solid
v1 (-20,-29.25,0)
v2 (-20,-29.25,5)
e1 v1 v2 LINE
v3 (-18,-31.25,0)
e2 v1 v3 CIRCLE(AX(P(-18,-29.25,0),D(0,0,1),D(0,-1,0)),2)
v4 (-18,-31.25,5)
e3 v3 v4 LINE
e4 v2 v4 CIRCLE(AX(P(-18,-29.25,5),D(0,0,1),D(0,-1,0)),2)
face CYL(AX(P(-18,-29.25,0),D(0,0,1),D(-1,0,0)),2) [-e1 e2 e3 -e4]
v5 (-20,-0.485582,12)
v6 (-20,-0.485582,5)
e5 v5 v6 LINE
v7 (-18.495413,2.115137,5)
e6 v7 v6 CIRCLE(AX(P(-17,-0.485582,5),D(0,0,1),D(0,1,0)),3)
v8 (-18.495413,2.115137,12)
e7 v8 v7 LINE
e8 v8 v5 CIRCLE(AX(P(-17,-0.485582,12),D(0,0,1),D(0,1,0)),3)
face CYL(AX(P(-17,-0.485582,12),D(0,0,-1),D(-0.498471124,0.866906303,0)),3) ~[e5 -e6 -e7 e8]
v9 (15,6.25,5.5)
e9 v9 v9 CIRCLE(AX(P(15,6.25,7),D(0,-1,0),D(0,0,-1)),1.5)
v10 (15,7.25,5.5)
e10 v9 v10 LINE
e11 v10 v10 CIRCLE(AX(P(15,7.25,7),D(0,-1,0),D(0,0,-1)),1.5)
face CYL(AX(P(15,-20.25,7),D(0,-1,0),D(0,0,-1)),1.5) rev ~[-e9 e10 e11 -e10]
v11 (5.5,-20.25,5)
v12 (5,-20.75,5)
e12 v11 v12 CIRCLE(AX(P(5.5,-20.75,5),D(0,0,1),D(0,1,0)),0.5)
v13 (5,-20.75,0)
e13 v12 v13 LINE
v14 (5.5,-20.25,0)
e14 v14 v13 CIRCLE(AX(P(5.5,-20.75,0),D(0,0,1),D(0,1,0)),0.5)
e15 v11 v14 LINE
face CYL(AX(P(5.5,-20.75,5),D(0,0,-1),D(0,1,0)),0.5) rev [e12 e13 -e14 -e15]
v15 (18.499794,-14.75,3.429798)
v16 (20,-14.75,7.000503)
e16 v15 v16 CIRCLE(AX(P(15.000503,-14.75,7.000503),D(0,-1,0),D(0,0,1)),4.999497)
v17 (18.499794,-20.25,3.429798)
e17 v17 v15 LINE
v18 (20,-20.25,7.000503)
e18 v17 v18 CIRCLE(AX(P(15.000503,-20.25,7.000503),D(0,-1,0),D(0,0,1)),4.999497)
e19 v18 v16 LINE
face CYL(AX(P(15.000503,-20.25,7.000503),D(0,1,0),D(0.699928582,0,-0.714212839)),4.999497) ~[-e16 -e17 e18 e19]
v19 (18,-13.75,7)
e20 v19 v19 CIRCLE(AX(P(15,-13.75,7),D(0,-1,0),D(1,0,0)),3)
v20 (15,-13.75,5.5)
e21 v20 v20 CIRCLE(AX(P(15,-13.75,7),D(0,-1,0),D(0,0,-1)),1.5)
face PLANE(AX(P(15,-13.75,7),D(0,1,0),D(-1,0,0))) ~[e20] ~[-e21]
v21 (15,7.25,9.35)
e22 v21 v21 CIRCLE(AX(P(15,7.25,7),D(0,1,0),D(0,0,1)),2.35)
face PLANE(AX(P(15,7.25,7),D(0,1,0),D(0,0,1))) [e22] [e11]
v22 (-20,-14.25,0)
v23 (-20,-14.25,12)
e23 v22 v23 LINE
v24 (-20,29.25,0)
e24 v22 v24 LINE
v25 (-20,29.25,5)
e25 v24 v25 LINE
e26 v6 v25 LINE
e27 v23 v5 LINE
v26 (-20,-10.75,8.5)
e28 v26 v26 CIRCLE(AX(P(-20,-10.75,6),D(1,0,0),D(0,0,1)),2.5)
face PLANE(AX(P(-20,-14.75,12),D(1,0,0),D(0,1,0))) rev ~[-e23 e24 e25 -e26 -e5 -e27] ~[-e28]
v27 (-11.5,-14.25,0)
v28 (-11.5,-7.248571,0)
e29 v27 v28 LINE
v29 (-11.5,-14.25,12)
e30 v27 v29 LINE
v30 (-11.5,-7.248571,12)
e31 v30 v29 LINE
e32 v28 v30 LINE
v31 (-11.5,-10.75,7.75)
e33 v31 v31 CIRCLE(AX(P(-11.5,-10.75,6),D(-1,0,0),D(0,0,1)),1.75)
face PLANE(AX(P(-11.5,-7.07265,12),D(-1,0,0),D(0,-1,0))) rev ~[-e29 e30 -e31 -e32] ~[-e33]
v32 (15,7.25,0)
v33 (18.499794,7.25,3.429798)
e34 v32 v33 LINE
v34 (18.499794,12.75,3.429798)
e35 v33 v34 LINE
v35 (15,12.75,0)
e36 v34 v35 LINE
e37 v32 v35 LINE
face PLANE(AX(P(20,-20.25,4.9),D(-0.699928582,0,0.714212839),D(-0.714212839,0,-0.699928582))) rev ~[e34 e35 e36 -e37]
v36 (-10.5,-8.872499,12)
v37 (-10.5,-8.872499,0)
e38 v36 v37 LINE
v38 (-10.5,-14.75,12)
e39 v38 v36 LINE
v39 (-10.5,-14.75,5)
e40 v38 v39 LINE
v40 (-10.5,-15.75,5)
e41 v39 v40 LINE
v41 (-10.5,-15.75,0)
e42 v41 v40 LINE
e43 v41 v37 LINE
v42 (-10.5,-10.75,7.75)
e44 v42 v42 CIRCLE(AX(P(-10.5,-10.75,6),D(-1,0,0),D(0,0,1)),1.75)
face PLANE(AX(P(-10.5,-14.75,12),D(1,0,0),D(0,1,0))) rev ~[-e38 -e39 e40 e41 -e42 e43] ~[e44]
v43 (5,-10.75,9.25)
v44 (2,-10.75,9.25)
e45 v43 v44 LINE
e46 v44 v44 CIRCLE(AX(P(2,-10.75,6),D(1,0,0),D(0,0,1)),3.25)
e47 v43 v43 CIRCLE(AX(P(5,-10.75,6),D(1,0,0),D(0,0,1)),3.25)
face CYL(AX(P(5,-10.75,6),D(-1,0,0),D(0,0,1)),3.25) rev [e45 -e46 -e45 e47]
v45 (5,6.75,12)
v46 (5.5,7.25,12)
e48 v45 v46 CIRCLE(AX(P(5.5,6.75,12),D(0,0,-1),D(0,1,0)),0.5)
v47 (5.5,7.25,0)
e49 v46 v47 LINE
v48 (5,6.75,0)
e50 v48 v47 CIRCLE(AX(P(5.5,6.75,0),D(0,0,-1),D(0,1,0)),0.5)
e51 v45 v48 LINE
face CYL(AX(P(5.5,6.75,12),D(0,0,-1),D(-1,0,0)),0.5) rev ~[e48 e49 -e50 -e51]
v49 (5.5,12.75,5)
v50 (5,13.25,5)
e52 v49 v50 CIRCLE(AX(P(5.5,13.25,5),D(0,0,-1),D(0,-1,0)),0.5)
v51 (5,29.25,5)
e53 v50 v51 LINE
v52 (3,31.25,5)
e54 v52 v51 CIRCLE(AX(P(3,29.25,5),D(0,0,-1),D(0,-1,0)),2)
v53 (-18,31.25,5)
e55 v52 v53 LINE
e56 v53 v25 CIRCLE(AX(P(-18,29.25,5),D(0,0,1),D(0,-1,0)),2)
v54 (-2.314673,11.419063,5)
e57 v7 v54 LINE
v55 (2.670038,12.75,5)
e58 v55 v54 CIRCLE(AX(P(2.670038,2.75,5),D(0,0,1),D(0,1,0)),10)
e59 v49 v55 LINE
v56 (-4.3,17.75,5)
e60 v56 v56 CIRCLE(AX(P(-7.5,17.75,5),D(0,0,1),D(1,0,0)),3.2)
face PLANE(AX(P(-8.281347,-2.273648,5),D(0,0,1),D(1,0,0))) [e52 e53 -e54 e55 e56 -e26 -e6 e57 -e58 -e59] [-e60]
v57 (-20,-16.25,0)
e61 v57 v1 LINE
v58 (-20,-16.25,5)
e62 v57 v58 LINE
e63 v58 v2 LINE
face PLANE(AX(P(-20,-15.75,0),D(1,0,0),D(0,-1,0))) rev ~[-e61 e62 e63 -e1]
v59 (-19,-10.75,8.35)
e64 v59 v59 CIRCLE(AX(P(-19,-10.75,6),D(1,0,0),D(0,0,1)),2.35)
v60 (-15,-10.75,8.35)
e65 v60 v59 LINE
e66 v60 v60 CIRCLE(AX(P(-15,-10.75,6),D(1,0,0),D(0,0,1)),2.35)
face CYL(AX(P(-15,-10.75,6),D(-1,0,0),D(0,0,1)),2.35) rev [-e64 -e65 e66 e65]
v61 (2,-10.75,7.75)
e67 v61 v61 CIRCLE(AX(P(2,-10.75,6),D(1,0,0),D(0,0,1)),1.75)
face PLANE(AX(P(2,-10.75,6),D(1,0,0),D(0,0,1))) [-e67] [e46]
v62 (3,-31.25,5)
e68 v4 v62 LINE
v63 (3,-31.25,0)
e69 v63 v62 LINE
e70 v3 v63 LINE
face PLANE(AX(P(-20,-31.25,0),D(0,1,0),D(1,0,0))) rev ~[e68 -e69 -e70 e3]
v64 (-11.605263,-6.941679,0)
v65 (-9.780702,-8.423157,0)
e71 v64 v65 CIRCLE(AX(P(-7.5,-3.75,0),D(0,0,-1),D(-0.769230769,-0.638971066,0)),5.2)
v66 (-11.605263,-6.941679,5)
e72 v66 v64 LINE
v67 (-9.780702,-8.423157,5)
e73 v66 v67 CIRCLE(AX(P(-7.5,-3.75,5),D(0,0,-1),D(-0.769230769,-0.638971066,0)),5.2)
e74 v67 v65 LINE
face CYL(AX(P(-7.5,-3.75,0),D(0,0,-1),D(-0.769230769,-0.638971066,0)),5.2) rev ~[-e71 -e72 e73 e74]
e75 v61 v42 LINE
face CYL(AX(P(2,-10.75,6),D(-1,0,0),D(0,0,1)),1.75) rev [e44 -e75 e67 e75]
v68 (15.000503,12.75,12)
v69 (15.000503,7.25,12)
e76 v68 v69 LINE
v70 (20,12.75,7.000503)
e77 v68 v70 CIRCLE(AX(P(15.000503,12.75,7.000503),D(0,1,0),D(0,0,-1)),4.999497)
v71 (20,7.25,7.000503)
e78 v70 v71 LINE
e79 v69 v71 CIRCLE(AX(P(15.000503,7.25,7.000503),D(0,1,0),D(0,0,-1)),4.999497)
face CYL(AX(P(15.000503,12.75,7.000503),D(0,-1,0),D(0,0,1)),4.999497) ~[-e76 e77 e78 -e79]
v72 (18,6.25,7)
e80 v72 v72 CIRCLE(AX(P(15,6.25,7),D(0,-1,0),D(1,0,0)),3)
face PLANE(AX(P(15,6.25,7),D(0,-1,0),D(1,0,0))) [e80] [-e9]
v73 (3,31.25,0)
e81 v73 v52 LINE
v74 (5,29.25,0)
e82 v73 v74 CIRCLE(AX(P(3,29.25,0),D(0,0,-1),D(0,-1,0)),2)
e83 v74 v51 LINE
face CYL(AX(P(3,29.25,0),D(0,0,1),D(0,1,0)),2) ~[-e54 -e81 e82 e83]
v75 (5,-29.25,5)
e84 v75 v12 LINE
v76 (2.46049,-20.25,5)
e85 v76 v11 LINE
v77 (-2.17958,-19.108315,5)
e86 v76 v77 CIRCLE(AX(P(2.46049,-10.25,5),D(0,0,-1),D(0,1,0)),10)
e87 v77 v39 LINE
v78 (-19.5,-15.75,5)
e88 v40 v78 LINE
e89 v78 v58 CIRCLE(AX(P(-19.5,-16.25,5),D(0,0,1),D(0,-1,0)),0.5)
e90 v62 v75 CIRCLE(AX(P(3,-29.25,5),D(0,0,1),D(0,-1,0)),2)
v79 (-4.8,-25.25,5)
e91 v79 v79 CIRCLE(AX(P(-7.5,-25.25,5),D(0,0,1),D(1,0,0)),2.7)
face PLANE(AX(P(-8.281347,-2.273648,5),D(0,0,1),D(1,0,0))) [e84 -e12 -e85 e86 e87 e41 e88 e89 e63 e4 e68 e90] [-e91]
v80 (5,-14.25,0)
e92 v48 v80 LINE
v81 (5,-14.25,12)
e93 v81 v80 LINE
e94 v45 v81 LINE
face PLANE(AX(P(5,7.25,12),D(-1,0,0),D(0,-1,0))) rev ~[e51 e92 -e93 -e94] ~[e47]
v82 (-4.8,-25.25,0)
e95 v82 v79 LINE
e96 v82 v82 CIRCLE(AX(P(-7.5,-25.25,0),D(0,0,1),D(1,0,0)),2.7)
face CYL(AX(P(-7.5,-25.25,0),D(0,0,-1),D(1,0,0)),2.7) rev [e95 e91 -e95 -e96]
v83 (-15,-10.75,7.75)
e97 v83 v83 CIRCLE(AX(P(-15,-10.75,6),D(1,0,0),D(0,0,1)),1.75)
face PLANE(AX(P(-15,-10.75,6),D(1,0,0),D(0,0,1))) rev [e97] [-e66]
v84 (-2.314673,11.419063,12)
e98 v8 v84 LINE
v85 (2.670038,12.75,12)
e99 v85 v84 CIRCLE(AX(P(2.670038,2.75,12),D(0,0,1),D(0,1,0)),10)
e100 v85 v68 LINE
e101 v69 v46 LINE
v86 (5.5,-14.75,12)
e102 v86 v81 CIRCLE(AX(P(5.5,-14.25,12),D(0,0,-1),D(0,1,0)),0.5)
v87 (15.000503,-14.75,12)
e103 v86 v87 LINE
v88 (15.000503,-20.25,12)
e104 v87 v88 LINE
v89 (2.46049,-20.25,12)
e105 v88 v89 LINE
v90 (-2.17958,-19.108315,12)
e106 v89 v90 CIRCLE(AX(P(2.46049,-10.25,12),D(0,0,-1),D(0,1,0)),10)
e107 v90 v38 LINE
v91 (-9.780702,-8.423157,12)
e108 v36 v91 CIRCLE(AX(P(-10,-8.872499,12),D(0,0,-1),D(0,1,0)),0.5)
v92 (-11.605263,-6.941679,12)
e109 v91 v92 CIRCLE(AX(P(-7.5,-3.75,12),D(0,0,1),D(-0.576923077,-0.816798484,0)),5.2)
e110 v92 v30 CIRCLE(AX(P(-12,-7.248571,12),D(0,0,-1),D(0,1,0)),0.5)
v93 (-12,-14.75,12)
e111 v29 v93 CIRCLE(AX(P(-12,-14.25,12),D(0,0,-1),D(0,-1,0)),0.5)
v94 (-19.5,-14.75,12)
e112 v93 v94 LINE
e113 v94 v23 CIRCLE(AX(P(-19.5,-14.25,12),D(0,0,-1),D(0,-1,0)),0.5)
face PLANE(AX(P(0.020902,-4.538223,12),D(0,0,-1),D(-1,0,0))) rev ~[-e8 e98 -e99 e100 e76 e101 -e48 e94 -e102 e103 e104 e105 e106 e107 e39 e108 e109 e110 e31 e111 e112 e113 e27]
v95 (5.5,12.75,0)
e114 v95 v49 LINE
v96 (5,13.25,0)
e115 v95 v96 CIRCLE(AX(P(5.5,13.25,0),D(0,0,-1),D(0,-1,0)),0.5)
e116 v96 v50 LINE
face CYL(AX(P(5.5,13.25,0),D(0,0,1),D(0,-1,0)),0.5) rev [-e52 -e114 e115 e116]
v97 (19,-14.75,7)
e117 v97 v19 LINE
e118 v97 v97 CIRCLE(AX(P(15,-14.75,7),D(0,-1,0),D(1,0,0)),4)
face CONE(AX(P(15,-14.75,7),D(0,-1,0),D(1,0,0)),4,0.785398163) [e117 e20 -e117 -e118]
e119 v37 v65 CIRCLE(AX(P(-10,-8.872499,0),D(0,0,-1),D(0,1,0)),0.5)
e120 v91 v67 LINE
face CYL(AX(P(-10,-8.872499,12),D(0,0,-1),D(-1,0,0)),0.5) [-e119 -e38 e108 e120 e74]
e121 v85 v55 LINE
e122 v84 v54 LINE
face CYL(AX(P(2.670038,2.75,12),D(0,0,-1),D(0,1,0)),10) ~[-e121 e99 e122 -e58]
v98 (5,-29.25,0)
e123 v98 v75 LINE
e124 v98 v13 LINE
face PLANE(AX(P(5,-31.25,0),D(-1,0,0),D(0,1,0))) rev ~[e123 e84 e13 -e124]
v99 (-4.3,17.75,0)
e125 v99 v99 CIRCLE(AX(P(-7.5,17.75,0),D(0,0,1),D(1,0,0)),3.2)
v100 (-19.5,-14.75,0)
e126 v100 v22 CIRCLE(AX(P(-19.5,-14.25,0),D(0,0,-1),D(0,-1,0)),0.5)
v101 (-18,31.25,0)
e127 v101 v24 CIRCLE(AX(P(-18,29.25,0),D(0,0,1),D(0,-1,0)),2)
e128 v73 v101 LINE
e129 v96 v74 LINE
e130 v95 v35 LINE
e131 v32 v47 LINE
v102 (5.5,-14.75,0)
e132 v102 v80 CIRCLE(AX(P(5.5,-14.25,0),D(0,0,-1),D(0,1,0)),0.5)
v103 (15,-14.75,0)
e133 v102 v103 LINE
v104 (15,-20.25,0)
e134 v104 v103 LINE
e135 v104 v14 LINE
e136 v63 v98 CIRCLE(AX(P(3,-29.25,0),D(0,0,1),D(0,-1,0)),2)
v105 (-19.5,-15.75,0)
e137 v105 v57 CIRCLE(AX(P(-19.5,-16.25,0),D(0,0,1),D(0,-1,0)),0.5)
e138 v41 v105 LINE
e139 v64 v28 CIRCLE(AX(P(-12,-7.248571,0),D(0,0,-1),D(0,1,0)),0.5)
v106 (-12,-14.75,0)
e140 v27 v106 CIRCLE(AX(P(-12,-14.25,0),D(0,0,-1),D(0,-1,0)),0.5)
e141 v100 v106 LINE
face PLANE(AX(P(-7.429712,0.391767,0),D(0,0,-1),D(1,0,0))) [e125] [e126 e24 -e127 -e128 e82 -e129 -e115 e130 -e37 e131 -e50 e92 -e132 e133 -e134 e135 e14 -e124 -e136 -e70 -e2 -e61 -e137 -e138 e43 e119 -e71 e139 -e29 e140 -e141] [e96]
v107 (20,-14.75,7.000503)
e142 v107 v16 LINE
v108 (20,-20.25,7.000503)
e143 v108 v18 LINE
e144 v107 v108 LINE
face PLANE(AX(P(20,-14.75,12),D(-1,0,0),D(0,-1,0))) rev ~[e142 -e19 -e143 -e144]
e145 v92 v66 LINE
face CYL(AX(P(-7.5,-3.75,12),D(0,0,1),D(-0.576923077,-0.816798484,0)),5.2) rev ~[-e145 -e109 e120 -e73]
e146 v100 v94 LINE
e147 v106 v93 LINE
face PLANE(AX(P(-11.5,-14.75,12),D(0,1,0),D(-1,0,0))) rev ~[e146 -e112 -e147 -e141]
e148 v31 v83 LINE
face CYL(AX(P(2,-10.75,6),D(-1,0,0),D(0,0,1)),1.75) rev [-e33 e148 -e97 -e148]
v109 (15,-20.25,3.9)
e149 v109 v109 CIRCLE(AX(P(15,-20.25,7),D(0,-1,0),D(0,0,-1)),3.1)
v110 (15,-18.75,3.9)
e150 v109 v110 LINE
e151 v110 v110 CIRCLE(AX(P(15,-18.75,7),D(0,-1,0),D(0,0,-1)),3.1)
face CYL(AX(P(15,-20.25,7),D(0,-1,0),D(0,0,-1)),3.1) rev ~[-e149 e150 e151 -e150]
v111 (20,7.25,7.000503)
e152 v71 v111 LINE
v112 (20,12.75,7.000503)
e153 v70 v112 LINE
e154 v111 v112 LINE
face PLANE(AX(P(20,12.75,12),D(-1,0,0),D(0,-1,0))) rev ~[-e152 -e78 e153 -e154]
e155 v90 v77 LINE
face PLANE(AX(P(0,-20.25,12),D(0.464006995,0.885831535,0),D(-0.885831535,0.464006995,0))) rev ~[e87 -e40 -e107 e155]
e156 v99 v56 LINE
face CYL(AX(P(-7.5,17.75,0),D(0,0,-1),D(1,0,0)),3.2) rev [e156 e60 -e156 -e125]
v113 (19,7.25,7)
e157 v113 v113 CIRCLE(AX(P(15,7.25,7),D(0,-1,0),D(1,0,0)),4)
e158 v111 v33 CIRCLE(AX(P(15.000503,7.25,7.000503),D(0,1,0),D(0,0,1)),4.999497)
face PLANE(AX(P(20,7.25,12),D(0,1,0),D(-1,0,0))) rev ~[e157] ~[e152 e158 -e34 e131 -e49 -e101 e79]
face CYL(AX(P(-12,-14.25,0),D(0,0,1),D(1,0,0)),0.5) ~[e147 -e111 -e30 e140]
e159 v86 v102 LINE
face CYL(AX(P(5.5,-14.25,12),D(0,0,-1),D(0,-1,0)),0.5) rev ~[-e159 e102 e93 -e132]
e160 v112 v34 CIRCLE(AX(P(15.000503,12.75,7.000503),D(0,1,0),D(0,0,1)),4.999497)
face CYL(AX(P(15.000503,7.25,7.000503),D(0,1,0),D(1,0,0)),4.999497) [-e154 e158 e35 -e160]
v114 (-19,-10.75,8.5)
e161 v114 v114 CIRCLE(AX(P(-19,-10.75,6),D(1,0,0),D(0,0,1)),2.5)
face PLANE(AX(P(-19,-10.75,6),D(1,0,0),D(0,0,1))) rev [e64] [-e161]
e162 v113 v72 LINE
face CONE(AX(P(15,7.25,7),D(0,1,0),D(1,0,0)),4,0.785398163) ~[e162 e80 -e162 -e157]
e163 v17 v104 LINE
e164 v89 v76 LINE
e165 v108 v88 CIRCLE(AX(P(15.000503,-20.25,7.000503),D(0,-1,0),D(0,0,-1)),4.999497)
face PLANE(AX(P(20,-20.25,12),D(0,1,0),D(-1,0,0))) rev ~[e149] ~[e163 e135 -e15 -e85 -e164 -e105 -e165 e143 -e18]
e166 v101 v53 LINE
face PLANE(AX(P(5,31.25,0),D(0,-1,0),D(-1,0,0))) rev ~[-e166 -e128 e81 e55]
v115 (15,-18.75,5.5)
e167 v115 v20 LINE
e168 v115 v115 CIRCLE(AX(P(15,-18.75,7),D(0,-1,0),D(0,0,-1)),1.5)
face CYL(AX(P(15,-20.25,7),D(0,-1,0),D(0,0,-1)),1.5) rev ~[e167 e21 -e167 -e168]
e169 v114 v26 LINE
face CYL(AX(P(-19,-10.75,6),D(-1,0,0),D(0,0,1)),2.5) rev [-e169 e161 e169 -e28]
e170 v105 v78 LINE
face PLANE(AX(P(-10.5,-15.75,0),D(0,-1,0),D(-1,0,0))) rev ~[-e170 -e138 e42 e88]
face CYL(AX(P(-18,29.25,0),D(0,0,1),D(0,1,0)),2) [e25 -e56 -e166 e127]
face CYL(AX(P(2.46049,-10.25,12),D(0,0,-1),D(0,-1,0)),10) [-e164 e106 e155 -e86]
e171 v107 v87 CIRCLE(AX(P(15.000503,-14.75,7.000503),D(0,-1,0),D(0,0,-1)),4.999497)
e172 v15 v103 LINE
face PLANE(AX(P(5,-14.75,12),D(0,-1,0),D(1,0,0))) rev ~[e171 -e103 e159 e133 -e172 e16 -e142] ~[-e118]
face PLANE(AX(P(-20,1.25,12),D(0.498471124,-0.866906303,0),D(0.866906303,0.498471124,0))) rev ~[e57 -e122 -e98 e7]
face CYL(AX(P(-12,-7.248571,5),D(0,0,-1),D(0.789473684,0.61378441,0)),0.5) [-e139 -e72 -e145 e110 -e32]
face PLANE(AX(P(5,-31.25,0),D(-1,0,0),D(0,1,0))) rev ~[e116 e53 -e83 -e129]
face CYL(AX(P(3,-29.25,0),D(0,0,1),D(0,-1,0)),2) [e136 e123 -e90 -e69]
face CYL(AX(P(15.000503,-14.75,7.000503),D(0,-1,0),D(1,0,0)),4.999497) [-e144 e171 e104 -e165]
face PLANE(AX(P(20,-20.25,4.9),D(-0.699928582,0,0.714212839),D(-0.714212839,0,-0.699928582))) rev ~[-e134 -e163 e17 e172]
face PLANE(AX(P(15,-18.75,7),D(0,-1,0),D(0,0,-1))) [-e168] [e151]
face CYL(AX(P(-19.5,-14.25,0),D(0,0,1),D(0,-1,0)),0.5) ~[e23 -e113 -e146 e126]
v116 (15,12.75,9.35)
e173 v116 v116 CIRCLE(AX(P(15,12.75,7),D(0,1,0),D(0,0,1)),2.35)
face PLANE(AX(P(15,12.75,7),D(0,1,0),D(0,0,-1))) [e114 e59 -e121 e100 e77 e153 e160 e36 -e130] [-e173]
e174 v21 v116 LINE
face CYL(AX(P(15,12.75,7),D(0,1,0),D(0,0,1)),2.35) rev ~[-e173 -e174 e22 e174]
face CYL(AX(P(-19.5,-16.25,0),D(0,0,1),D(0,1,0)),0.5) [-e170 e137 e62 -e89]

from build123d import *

# Parameters (mm, degrees)
SKETCH1_R                 = 2.7
SKETCH1_R_2               = 3.2
BOSS_EXTRUDE1_DEPTH       = 5
BOSS_EXTRUDE2_REACH       = 40.994
SKETCH3_R                 = 1.5
CUT_EXTRUDE1_DEPTH        = 57.535387148
FILLET1_R                 = 4.999497
FILLET2_R                 = 4.999497
SKETCH4_R                 = 3
BOSS_EXTRUDE3_DEPTH       = 1
DRAFT1_ANGLE              = 45
DRAFT1_OF_MIRROR1_2_ANGLE = 45
SKETCH5_R                 = 1.5
CUT_EXTRUDE2_DEPTH        = 57.535387148
SKETCH6_R                 = 3.1
CUT_EXTRUDE3_DEPTH        = 1.5
FILLET3_R                 = 10
FILLET5_R                 = 0.5
FILLET6_R                 = 2
FILLET7_R                 = 3
SKETCH8_R                 = 3.1
SKETCH8_R_2               = 2.35
BOSS_EXTRUDE4_DEPTH       = 1.5
CUT_EXTRUDE4_START        = -4
SKETCH9_R                 = 2.35
SKETCH9_R_2               = 1.5
CUT_EXTRUDE4_DEPTH        = 4


with BuildPart() as part:
    # Sketch1 → Boss-Extrude1 (new body)
    with BuildSketch(Plane.XY):
        with BuildLine():
            Line((5, -31.25), (5, 31.25))
            Line((5, 31.25), (-20, 31.25))
            Line((-20, 31.25), (-20, -14.75))
            Line((-20, -14.75), (-11.5, -14.75))
            Line((-11.5, -14.75), (-11.5, -7.072649545))
            ThreePointArc((-11.5, -7.072649545), (-3.96959369, 0.06788309), (-10.5, -7.997352116))
            Line((-10.5, -7.997352116), (-10.5, -15.75))
            Line((-10.5, -15.75), (-20, -15.75))
            Line((-20, -15.75), (-20, -31.25))
            Line((-20, -31.25), (5, -31.25))
        make_face()
        with Locations((-7.5, -25.25)):
            Circle(SKETCH1_R, mode=Mode.SUBTRACT)
        with Locations((-7.5, 17.75)):
            Circle(SKETCH1_R_2, mode=Mode.SUBTRACT)
    extrude(amount=BOSS_EXTRUDE1_DEPTH)

    # Boss-Extrude2: up to this face of the body (flat: up to its plane)
    boss_extrude2_end = Plane(part.part.faces().sort_by_distance((4.326854399, 0, 0))[0])
    # Sketch2 → Boss-Extrude2 (add, up to the picked face)
    with BuildSketch(Plane.XY.offset(12), mode=Mode.PRIVATE) as boss_extrude2_sk1:
        with BuildLine():
            Line((0, 12.75), (20, 12.75))
            Line((20, 12.75), (20, 7.25))
            Line((20, 7.25), (5, 7.25))
            Line((5, 7.25), (5, -14.75))
            Line((5, -14.75), (20, -14.75))
            Line((20, -14.75), (20, -20.25))
            Line((20, -20.25), (0, -20.25))
            Line((0, -20.25), (-10.5, -14.75))
            Line((-10.5, -14.75), (-10.5, -7.997352116))
            ThreePointArc((-10.5, -7.997352116), (-3.96959369, 0.06788309), (-11.5, -7.072649545))
            Line((-11.5, -7.072649545), (-11.5, -14.75))
            Line((-11.5, -14.75), (-20, -14.75))
            Line((-20, -14.75), (-20, 1.25))
            Line((-20, 1.25), (0, 12.75))
        make_face()
    boss_extrude2_tool1 = split(extrude(boss_extrude2_sk1.sketch, amount=-BOSS_EXTRUDE2_REACH, mode=Mode.PRIVATE), bisect_by=boss_extrude2_end, keep=Keep.BOTH, mode=Mode.PRIVATE)
    add(boss_extrude2_tool1.solids().sort_by(Axis((-1.249188, -4.122756, 12), (0, 0, -1)))[0])

    # Sketch3 → Cut-Extrude1 (cut, through all)
    with BuildSketch(Plane.XZ.offset(20.25)):
        with Locations(Location((15, 7, 0), (0, 0, 270))):
            Circle(SKETCH3_R)
        Polygon((15, 0), (20, 0), (20, 4.9), align=None)
    extrude(amount=-CUT_EXTRUDE1_DEPTH, mode=Mode.SUBTRACT)

    # Fillet1
    fillet1_edges = [part.edges().sort_by_distance(p)[0] for p in [
        (20, 10, 12),
        (20, 10, 4.9),
    ]]
    fillet(fillet1_edges, radius=FILLET1_R)

    # Fillet2
    fillet2_edges = [part.edges().sort_by_distance(p)[0] for p in [
        (20, -17.5, 12),
        (20, -17.5, 4.9),
    ]]
    fillet(fillet2_edges, radius=FILLET2_R)

    # Sketch4 → Boss-Extrude3 (add)
    with BuildSketch(Plane.XZ.offset(-7.25)):
        with Locations((15, 7)):
            Circle(SKETCH4_R)
    boss_extrude3 = extrude(amount=BOSS_EXTRUDE3_DEPTH)

    # Draft1
    draft1_faces = [part.faces().sort_by_distance(p)[0] for p in [
        (12, 6.75, 7),
    ]]
    draft(draft1_faces, Plane(origin=(15, 6.25, 7), x_dir=(-1, 0, 0), z_dir=(0, -1, 0)), DRAFT1_ANGLE)

    # Mirror1: Boss-Extrude3 across plane
    add(boss_extrude3.mirror(Plane.ZX.offset(-3.75)))

    # Draft1 of Mirror1 2
    draft1_of_mirror1_2_faces = [part.faces().sort_by_distance(p)[0] for p in [
        (12, -14.25, 7),
    ]]
    draft(draft1_of_mirror1_2_faces, Plane(origin=(15, -13.75, 7), x_dir=(-1, 0, 0), z_dir=(0, 1, 0)), DRAFT1_OF_MIRROR1_2_ANGLE)

    # Sketch5 → Cut-Extrude2 (cut, through all)
    with BuildSketch(Plane.XZ.offset(20.25)):
        with Locations(Location((15, 7, 0), (0, 0, 270))):
            Circle(SKETCH5_R)
    extrude(amount=-CUT_EXTRUDE2_DEPTH, mode=Mode.SUBTRACT)

    # Sketch6 → Cut-Extrude3 (cut)
    with BuildSketch(Plane.XZ.offset(20.25)):
        with Locations(Location((15, 7, 0), (0, 0, 270))):
            Circle(SKETCH6_R)
    cut_extrude3 = extrude(amount=-CUT_EXTRUDE3_DEPTH, mode=Mode.SUBTRACT)

    # Mirror2: Cut-Extrude3 across plane
    add(cut_extrude3.mirror(Plane.ZX.offset(-3.75)), mode=Mode.SUBTRACT)

    # Fillet3
    fillet3_edges = [part.edges().sort_by_distance(p)[0] for p in [
        (0, 12.75, 8.5),
        (0, -20.25, 8.5),
    ]]
    fillet(fillet3_edges, radius=FILLET3_R)

    # Fillet5
    fillet5_edges = [part.edges().sort_by_distance(p)[0] for p in [
        (-11.5, -7.072649545, 8.5),
        (-11.5, -14.75, 6),
        (-20, -14.75, 6),
        (-20, -15.75, 2.5),
        (-10.5, -7.997352116, 8.5),
        (5, 7.25, 6),
        (5, 12.75, 2.5),
        (5, -14.75, 6),
        (5, -20.25, 2.5),
    ]]
    fillet(fillet5_edges, radius=FILLET5_R)

    # Fillet6
    fillet6_edges = [part.edges().sort_by_distance(p)[0] for p in [
        (-20, 31.25, 2.5),
        (5, 31.25, 2.5),
        (5, -31.25, 2.5),
        (-20, -31.25, 2.5),
    ]]
    fillet(fillet6_edges, radius=FILLET6_R)

    # Fillet7
    fillet7_edges = [part.edges().sort_by_distance(p)[0] for p in [
        (-20, 1.25, 8.5),
    ]]
    fillet(fillet7_edges, radius=FILLET7_R)

    # Sketch7 → Cut-Revolve3 (revolve, cut)
    with BuildSketch(Plane.XY.offset(6), mode=Mode.PRIVATE) as cut_revolve3_sk:
        Polygon((5, -10.75), (5, -7.5), (2, -7.5), (2, -9), (-15, -9), (-15, -8.4), (-19, -8.4), (-19, -8.25), (-20, -8.25), (-20, -10.75), align=None)
    revolve(cut_revolve3_sk.sketch.rotate(Axis((-28.80218061, -10.75, 6), (1, 0, 0)), 90), axis=Axis((-28.80218061, -10.75, 6), (1, 0, 0)), mode=Mode.SUBTRACT)

    # Sketch8 → Boss-Extrude4 (add)
    with BuildSketch(Plane(origin=(0, 12.75, 0), x_dir=(1, 0, 0), z_dir=(0, 1, 0))):
        with Locations(Location((15, -7, 0), (0, 0, 90))):
            Circle(SKETCH8_R)
        with Locations(Location((15, -7, 0), (0, 0, 270))):
            Circle(SKETCH8_R_2, mode=Mode.SUBTRACT)
    extrude(amount=-BOSS_EXTRUDE4_DEPTH)

    # Sketch9 → Cut-Extrude4 (cut)
    with BuildSketch(Plane(origin=(0, 11.25, 0), x_dir=(1, 0, 0), z_dir=(0, 1, 0)).offset(CUT_EXTRUDE4_START)):
        with Locations(Location((15, -7, 0), (0, 0, 270))):
            Circle(SKETCH9_R)
        with Locations((15, -7)):
            Circle(SKETCH9_R_2, mode=Mode.SUBTRACT)
    extrude(amount=CUT_EXTRUDE4_DEPTH, mode=Mode.SUBTRACT)


solid = part.part
